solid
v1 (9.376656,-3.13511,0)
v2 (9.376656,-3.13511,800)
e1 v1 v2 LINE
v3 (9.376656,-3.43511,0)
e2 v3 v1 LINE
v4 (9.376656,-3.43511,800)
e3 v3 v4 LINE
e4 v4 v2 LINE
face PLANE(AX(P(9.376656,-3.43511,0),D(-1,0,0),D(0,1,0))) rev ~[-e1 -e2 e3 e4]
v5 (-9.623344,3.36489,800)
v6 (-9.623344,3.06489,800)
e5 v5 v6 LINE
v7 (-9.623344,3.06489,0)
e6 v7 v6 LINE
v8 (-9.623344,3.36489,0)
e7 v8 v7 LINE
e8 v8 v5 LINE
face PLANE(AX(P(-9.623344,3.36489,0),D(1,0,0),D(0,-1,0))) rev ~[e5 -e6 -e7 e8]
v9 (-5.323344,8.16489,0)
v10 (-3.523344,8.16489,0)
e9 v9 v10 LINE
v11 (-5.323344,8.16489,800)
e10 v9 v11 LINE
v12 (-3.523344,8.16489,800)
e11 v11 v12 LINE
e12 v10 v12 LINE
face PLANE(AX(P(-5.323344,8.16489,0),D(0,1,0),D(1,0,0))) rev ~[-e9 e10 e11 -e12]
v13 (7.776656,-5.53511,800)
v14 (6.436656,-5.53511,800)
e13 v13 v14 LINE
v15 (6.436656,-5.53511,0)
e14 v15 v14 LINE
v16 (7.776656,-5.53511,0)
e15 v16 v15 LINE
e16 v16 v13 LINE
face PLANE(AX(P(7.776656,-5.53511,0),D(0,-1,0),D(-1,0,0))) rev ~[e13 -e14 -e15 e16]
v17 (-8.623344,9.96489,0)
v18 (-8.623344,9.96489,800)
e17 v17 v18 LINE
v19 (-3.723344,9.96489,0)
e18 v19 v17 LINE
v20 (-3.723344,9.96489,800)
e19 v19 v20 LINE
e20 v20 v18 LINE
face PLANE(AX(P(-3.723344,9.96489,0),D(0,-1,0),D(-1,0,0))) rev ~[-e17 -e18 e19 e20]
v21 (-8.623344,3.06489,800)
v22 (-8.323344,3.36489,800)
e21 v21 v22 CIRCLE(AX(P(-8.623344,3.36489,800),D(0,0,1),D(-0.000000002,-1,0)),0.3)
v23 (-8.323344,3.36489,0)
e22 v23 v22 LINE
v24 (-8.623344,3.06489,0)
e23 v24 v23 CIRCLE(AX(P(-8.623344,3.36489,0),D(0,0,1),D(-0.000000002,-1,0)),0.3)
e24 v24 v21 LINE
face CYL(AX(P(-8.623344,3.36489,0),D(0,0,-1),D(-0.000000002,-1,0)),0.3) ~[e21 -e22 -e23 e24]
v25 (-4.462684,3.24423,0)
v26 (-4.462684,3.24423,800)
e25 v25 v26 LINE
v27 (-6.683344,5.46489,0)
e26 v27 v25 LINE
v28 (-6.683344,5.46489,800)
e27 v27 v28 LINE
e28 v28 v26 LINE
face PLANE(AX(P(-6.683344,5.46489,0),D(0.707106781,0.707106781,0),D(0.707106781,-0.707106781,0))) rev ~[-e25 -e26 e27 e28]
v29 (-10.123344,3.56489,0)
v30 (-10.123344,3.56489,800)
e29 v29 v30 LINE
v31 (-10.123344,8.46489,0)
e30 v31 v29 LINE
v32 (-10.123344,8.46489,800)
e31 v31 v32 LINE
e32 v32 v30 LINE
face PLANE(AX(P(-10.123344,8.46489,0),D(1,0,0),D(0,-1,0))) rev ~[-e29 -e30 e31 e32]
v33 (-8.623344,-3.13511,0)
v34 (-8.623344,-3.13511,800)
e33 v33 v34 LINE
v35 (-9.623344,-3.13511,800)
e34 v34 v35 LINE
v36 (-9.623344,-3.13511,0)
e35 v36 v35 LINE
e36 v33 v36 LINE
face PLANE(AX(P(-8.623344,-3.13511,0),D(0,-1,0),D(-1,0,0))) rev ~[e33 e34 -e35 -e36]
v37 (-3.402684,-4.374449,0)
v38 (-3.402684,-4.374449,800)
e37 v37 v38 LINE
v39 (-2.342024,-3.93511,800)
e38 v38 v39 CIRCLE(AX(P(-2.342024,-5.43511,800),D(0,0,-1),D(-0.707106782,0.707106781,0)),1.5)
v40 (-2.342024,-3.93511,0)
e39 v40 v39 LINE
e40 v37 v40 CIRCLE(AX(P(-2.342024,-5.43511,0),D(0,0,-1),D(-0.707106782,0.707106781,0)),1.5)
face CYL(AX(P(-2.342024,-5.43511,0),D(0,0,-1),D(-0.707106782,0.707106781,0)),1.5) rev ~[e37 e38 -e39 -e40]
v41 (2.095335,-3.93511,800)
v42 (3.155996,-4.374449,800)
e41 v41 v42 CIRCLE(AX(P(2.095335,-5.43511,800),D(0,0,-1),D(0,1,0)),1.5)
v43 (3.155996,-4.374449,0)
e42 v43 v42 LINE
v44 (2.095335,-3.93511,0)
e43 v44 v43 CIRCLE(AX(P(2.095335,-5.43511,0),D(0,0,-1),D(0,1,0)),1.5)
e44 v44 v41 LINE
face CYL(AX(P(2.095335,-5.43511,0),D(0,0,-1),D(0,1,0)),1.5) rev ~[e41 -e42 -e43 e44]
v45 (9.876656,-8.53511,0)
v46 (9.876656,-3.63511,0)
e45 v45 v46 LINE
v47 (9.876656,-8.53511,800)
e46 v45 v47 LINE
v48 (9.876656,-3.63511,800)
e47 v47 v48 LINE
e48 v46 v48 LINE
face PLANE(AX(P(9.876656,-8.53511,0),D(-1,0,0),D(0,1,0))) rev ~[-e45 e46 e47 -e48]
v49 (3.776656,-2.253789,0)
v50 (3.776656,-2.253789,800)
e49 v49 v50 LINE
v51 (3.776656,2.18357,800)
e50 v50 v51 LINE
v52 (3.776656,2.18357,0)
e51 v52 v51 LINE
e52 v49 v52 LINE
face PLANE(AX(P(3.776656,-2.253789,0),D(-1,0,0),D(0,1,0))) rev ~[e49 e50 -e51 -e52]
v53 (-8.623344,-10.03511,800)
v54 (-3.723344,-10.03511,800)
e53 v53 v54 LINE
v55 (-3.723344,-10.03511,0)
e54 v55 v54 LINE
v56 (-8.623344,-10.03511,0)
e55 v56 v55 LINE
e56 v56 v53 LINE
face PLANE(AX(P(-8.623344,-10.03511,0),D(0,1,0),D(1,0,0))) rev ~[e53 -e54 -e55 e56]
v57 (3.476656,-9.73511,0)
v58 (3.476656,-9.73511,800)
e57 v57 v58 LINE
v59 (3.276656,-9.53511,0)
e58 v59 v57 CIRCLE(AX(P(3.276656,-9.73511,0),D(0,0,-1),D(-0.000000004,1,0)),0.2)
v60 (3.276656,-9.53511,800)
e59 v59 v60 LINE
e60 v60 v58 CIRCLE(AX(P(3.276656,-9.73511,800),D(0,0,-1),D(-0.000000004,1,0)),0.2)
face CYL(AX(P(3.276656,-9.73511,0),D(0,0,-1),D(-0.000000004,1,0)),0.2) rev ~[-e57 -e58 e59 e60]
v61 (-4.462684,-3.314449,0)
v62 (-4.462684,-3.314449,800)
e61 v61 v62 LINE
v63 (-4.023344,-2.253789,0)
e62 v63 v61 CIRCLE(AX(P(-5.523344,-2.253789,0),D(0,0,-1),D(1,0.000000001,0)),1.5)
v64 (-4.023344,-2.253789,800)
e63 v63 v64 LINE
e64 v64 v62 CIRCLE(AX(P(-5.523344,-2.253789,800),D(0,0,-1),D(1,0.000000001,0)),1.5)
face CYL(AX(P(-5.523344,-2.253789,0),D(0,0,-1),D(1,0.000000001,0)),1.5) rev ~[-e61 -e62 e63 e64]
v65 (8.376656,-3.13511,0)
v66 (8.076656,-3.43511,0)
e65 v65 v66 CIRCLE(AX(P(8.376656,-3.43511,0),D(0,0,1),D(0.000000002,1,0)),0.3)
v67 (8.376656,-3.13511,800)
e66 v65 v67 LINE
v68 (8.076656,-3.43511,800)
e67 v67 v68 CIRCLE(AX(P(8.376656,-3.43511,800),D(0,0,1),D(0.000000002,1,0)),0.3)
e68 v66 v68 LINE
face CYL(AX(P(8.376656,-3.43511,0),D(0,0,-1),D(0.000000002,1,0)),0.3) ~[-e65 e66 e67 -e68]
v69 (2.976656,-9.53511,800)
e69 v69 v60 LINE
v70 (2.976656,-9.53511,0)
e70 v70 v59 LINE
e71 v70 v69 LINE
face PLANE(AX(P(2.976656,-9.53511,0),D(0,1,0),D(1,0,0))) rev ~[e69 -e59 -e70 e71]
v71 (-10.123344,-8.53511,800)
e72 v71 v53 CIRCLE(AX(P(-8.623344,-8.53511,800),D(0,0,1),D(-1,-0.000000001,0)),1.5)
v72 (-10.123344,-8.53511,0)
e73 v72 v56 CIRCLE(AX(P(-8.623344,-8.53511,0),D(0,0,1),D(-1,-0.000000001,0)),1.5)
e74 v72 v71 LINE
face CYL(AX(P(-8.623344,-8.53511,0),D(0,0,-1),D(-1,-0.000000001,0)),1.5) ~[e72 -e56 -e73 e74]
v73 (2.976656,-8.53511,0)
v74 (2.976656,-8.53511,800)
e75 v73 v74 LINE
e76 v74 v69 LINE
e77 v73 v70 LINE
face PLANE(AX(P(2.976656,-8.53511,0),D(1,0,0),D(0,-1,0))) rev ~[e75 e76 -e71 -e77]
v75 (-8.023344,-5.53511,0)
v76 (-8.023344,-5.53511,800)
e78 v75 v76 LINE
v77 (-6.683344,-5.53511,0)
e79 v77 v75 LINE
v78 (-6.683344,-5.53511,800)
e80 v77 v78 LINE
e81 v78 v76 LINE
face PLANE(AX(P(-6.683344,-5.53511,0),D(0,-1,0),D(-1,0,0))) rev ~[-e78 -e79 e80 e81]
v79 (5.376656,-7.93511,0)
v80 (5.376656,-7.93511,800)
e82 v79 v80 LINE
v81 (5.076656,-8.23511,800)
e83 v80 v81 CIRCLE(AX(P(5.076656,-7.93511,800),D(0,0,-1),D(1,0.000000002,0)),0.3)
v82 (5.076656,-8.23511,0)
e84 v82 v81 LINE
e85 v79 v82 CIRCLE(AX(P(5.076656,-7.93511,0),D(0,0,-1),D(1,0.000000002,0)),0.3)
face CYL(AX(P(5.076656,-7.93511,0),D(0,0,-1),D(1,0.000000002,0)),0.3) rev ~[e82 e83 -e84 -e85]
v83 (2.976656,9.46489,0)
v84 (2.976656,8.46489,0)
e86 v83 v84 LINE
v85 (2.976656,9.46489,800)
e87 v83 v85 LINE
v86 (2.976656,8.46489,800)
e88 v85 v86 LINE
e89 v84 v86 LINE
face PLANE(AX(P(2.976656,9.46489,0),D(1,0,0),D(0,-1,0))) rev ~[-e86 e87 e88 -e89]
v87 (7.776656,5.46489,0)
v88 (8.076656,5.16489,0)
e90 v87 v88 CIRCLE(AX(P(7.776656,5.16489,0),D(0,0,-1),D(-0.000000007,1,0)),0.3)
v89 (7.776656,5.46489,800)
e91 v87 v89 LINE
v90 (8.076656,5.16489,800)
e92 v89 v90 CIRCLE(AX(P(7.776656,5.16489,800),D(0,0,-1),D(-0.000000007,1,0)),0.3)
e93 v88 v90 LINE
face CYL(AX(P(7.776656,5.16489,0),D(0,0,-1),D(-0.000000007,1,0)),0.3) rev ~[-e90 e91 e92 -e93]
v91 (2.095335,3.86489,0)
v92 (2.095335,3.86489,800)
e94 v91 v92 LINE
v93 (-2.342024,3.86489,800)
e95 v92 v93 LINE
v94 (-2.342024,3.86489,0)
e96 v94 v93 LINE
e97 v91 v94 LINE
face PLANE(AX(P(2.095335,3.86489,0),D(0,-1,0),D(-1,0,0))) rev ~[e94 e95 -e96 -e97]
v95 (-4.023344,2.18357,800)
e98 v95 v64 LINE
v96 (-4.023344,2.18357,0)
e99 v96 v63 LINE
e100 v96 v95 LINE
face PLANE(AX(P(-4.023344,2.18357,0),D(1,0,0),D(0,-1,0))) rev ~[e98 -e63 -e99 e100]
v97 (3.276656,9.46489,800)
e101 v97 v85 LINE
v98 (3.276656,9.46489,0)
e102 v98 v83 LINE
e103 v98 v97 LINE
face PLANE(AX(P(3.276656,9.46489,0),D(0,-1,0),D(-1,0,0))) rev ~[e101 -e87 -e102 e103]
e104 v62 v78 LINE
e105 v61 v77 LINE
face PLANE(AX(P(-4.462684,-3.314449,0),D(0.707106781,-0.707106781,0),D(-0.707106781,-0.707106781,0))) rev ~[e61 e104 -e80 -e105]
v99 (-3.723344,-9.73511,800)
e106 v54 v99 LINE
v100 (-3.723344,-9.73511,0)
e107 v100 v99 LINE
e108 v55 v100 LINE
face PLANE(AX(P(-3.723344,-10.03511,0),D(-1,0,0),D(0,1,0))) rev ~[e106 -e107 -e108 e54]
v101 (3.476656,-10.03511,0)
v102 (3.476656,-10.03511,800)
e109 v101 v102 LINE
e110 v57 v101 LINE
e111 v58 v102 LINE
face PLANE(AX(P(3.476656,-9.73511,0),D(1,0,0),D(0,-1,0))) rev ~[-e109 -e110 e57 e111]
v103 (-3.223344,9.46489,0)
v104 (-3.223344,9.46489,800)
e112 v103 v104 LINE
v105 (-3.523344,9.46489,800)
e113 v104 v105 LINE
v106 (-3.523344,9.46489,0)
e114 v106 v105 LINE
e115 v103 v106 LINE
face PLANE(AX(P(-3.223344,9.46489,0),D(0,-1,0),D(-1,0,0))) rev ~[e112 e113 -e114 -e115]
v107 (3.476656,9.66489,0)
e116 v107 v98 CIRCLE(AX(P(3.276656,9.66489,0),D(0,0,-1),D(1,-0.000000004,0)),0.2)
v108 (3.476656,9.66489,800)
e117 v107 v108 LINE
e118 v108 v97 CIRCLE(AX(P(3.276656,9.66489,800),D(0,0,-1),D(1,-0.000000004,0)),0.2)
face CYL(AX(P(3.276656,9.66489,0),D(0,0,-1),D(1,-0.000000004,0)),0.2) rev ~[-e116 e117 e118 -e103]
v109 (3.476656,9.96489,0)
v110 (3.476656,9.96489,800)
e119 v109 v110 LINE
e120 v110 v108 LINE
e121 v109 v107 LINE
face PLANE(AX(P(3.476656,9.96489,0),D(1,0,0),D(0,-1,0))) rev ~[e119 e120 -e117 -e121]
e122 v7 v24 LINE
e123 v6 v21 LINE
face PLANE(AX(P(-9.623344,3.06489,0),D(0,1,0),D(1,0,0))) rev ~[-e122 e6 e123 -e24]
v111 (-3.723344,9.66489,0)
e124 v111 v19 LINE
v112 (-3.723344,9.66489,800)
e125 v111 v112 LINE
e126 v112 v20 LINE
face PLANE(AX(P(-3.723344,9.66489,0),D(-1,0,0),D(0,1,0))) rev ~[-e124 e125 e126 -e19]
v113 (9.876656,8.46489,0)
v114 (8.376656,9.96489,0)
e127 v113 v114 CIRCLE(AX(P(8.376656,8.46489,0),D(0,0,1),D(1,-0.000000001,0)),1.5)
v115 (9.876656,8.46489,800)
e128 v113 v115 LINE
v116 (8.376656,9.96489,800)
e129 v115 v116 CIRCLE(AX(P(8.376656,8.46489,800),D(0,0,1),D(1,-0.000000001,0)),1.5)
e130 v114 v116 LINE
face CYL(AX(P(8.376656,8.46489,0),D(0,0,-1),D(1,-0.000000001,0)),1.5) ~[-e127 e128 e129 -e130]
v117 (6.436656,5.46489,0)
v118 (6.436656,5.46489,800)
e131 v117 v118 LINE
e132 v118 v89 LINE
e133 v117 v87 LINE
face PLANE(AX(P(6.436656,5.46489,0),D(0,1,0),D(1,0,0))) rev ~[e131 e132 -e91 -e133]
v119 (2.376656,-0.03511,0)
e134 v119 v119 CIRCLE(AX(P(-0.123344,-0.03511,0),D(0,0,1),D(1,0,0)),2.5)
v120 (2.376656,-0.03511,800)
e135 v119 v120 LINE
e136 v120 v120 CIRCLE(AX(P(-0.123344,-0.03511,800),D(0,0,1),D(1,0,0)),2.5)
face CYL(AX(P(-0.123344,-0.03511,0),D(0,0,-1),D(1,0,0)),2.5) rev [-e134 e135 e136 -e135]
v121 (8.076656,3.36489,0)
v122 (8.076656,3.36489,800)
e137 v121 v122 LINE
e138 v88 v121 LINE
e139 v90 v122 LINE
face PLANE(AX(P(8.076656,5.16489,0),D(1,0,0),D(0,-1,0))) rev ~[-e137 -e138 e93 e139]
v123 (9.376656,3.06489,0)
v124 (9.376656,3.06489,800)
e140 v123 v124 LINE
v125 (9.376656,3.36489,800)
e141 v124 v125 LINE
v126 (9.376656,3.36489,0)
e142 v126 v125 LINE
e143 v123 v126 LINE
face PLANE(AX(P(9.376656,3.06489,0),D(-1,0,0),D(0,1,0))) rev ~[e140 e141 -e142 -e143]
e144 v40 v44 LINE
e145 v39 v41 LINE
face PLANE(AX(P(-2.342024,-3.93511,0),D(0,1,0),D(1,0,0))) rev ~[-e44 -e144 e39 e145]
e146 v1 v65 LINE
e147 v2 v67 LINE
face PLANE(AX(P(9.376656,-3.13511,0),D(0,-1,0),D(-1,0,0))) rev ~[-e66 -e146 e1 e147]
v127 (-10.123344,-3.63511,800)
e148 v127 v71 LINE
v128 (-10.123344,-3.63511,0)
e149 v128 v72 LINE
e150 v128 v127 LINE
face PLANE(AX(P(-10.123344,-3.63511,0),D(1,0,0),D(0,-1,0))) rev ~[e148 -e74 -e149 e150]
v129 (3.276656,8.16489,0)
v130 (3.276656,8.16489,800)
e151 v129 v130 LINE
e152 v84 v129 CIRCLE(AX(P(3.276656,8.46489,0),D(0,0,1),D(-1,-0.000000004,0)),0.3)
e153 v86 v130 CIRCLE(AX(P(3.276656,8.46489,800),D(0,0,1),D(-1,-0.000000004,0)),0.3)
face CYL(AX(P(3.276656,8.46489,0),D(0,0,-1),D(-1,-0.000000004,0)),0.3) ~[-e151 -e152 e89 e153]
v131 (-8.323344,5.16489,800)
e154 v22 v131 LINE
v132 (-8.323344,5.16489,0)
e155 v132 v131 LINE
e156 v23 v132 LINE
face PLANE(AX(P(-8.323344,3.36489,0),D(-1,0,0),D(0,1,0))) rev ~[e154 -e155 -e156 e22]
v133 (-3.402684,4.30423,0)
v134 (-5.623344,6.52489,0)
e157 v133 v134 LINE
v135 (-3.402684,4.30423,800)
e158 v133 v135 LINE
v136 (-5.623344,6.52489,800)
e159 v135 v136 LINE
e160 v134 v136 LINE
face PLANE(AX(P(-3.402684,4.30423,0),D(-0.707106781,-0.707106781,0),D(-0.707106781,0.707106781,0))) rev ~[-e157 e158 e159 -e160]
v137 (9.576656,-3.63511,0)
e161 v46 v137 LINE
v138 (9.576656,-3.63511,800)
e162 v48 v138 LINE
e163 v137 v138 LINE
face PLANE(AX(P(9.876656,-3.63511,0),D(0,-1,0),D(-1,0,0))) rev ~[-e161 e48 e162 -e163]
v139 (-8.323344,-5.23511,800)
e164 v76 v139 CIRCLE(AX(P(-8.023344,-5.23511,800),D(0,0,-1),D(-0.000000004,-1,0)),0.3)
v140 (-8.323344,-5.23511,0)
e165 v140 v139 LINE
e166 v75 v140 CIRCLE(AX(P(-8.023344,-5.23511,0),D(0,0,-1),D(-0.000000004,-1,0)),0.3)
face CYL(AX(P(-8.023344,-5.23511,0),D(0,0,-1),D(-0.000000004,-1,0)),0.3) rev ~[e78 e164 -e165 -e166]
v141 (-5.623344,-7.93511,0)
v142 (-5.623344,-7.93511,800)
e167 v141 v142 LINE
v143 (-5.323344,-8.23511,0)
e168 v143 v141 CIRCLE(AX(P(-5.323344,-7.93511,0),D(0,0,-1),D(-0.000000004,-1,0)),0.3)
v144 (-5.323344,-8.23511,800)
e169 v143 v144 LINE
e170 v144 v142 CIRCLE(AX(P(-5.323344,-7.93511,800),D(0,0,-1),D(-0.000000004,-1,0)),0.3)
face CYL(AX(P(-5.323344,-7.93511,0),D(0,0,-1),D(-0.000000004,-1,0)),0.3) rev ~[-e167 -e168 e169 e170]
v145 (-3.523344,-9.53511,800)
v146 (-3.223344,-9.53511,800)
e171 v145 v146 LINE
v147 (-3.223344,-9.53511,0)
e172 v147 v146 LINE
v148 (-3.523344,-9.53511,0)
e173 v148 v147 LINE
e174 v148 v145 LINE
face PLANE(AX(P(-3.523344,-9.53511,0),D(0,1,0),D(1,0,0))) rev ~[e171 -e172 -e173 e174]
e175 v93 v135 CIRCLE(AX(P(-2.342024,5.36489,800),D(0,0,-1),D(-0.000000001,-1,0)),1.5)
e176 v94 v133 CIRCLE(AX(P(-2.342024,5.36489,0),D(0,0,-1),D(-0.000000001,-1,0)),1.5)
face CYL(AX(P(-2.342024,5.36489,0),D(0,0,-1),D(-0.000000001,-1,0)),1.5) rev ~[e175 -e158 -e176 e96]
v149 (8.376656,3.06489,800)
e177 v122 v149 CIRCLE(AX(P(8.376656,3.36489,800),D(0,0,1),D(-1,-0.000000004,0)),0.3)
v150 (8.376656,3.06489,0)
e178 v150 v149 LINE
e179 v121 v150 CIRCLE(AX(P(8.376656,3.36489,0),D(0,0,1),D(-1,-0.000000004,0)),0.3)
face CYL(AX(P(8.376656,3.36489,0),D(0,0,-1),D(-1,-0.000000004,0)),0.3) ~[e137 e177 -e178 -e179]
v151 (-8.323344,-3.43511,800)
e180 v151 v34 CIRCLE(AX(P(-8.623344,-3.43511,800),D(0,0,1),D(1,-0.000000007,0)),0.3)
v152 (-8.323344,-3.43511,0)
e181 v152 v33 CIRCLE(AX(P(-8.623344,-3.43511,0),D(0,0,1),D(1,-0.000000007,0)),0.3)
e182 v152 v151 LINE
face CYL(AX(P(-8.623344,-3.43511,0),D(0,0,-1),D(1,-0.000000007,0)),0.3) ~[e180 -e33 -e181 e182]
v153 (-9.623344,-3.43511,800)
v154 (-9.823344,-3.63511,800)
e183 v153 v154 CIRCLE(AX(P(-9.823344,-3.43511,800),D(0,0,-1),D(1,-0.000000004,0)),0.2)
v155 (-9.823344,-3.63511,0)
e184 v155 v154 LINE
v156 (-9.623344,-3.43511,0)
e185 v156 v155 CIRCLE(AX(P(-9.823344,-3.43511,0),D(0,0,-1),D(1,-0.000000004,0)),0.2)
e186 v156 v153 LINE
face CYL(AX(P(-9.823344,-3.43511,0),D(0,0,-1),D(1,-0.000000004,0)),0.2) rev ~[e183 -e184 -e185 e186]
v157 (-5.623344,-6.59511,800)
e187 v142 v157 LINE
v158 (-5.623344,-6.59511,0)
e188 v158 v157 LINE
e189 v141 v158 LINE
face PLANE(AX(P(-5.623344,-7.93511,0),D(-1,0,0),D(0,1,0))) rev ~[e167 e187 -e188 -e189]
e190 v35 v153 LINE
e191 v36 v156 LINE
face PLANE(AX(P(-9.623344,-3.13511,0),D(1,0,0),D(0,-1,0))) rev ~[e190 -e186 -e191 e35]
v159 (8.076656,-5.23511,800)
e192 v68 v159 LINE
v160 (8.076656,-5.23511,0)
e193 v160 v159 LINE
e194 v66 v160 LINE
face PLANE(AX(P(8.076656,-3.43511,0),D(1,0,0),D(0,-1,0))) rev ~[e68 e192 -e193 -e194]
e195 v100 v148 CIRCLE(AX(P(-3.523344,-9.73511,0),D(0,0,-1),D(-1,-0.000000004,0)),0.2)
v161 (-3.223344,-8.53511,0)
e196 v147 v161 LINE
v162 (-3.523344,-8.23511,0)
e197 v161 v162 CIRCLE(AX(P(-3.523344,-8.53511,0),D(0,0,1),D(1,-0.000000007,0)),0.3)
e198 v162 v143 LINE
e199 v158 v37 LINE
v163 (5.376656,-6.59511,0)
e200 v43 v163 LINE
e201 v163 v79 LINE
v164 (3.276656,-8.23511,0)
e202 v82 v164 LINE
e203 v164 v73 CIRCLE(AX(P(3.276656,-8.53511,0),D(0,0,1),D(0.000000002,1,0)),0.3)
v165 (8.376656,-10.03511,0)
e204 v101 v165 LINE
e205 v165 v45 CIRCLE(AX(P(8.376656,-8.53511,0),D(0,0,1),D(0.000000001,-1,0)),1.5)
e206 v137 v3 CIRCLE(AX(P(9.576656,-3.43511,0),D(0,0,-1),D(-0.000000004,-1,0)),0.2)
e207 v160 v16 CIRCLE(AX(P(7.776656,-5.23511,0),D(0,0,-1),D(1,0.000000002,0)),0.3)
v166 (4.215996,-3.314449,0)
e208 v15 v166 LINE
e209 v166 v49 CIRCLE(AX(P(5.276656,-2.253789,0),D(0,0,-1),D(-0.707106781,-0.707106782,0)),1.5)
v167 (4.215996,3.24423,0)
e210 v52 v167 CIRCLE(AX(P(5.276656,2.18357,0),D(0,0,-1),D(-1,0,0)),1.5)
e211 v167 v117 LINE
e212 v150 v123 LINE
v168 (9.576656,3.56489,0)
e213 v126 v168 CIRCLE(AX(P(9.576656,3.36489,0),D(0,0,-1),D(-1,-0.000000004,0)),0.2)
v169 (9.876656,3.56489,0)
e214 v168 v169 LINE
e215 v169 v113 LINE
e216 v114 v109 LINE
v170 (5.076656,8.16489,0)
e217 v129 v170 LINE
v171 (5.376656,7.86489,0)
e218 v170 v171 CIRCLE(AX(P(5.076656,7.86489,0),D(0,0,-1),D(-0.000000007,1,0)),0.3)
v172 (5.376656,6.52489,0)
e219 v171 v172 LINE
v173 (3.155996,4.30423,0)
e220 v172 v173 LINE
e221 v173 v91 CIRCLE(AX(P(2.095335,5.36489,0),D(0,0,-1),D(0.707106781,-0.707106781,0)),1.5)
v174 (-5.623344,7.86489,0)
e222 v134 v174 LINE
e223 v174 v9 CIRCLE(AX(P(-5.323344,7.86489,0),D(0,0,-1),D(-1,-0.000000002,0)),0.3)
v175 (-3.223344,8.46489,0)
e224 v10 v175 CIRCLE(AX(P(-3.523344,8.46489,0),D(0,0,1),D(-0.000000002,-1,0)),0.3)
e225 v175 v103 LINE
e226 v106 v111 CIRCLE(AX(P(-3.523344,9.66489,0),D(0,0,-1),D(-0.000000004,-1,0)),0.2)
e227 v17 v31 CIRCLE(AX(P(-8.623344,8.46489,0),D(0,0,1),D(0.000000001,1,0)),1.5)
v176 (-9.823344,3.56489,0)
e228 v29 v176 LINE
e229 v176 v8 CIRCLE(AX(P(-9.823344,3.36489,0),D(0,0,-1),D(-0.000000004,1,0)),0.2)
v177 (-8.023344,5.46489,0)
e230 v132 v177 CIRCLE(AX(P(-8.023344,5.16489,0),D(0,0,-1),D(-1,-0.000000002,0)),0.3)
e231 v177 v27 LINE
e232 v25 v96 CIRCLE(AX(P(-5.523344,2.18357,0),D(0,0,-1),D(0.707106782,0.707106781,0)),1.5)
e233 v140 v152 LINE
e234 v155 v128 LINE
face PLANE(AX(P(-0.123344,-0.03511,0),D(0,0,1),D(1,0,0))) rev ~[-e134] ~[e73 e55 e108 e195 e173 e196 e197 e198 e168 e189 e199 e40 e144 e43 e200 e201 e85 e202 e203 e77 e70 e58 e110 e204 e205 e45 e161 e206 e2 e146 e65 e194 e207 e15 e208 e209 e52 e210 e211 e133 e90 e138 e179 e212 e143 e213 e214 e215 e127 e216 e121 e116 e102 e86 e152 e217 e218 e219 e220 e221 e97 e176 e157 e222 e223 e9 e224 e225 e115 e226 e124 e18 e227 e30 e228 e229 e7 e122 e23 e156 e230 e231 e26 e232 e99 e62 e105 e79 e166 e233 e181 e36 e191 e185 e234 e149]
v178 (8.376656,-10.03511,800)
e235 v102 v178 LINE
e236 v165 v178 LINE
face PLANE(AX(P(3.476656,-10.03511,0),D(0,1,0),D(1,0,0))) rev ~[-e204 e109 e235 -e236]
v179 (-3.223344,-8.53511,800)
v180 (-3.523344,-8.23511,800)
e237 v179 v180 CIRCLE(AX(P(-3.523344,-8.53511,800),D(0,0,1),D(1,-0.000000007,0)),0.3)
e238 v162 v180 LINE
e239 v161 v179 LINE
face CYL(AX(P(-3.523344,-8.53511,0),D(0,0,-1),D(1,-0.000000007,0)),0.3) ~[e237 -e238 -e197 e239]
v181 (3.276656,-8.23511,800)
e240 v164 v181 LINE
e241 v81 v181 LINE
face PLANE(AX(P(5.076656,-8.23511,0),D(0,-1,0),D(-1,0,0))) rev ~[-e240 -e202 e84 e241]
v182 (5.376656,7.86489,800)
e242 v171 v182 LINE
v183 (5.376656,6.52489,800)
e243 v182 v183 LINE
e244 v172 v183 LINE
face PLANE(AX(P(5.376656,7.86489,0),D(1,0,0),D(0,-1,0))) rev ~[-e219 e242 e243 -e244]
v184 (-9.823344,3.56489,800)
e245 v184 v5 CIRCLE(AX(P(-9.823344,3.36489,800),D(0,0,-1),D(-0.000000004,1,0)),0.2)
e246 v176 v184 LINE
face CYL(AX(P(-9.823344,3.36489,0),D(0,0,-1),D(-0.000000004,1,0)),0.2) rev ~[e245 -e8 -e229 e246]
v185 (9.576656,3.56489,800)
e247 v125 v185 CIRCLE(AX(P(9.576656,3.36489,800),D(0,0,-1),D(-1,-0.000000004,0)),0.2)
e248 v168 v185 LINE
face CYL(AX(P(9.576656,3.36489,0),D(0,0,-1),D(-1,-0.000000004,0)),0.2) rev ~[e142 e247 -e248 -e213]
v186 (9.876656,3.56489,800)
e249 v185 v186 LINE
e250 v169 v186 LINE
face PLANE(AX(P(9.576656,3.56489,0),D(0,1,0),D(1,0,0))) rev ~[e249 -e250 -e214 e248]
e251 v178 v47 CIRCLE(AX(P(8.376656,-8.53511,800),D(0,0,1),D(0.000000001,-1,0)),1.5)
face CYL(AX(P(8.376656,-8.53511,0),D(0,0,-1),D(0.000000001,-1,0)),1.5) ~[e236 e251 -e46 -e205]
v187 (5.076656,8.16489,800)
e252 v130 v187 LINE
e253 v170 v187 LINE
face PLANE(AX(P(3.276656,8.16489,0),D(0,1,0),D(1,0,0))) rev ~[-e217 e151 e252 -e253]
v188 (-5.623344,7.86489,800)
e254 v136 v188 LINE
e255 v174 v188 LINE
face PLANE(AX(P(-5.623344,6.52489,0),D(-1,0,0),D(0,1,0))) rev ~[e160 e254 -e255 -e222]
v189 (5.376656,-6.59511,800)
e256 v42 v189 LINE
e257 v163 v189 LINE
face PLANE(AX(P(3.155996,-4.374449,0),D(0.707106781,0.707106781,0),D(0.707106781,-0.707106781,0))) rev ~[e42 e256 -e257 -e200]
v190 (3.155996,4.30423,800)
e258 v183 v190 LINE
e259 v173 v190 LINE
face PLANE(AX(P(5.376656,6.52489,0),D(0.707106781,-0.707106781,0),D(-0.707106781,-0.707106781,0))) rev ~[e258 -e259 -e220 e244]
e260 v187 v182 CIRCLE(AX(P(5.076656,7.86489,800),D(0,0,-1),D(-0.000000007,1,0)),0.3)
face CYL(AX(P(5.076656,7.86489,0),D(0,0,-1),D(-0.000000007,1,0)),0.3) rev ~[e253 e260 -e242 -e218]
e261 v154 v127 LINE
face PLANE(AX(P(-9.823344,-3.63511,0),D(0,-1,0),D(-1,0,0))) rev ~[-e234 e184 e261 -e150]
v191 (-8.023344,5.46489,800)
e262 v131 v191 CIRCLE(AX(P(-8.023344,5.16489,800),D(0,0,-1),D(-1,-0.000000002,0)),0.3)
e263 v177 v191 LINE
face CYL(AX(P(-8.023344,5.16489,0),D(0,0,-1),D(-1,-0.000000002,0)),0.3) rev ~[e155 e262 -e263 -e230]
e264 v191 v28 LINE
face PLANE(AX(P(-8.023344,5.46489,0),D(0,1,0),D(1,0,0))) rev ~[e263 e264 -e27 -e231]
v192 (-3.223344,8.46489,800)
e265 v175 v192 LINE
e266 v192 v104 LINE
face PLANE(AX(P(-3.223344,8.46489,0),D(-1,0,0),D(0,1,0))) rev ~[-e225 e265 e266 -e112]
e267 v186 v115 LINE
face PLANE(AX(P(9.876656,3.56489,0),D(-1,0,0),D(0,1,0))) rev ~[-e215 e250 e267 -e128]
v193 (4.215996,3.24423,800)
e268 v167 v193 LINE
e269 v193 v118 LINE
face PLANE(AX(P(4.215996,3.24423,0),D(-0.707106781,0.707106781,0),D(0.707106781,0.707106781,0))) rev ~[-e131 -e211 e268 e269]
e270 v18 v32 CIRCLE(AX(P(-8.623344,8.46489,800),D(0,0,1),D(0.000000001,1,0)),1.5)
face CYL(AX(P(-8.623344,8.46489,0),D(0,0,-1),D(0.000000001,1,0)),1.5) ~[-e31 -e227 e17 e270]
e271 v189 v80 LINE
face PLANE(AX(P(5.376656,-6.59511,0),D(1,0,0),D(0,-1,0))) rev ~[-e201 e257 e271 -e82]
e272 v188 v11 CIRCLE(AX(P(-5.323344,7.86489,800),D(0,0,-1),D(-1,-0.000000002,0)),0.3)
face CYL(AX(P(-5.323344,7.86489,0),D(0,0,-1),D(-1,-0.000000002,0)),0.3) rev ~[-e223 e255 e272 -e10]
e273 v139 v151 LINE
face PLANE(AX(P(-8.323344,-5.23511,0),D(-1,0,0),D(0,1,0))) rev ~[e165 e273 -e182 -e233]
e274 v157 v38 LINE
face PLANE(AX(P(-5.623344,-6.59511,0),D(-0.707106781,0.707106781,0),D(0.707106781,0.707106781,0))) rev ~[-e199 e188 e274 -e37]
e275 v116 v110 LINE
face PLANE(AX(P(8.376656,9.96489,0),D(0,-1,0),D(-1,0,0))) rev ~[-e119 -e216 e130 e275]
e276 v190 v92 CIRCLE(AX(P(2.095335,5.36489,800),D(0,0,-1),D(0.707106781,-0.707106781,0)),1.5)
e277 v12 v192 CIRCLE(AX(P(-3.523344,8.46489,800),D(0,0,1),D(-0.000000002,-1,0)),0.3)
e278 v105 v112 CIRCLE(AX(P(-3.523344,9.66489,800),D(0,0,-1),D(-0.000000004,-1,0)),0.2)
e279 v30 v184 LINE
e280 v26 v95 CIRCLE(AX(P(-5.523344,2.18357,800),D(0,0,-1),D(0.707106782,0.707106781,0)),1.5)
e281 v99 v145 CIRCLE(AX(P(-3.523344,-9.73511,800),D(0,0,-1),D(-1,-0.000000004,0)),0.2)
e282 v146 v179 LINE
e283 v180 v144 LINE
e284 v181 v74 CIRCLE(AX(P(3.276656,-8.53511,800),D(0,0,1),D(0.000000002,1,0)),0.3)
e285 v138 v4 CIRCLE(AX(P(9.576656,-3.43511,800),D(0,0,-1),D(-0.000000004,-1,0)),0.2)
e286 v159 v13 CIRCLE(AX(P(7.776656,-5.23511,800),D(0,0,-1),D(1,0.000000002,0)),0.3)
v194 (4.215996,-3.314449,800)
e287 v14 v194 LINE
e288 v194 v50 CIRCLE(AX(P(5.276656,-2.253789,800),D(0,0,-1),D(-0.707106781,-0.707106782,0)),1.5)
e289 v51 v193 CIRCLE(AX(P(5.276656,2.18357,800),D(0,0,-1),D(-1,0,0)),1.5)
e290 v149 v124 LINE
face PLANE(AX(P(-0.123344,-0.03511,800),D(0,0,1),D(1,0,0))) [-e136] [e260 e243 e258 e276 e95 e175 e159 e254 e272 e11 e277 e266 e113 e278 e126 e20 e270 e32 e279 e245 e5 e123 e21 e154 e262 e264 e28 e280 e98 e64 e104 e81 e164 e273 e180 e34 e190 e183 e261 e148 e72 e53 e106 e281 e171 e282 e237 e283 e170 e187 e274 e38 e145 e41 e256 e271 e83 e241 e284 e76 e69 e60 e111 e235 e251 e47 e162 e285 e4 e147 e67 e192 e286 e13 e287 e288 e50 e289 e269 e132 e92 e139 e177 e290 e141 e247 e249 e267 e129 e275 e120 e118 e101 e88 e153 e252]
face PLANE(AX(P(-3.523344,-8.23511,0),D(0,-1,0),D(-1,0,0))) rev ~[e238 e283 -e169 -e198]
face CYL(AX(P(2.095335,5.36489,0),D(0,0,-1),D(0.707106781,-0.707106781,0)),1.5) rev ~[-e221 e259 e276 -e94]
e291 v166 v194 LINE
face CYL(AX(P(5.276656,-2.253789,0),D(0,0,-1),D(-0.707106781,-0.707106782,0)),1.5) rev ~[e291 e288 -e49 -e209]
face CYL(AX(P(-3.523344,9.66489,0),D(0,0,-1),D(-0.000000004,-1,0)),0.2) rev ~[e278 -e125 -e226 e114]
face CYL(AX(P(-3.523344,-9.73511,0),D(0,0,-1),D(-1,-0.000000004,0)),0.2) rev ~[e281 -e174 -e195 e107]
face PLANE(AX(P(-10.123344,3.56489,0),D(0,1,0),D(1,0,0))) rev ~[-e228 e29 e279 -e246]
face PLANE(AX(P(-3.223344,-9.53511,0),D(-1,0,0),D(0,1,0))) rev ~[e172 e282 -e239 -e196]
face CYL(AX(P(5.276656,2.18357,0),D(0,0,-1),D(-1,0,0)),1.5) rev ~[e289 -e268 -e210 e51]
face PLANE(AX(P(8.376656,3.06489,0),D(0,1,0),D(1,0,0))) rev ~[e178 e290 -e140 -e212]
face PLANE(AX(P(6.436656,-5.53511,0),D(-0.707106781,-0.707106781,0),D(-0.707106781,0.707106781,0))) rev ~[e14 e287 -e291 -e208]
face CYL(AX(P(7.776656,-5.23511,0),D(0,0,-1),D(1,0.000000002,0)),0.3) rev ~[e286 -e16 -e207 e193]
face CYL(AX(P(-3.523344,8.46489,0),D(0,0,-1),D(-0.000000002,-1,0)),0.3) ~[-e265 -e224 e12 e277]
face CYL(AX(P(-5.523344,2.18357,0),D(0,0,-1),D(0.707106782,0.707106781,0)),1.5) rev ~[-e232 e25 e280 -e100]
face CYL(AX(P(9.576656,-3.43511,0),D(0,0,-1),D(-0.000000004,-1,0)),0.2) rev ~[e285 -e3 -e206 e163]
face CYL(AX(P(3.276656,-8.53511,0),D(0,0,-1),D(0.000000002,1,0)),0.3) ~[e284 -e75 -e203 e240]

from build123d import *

# Parameters (mm, degrees)
SKETCH_1_R      = 2.5
EXTRUDE_1_DEPTH = 800


with BuildPart() as part:
    # 草图1 → 凸台-拉伸1 (new body)
    with BuildSketch(Plane.XY):
        with BuildLine():
            Line((4.215995631, 3.244230202), (6.436655803, 5.464890373))
            Line((6.436655803, 5.464890373), (7.776655803, 5.464890373))
            ThreePointArc((7.776655803, 5.464890373), (7.988787838, 5.377022408), (8.076655803, 5.164890373))
            Line((8.076655803, 5.164890373), (8.076655803, 3.364890373))
            ThreePointArc((8.076655803, 3.364890373), (8.164523769, 3.152758339), (8.376655803, 3.064890373))
            Line((8.376655803, 3.064890373), (9.376655803, 3.064890373))
            Line((9.376655803, 3.064890373), (9.376655803, 3.364890373))
            ThreePointArc((9.376655803, 3.364890373), (9.435234447, 3.50631173), (9.576655803, 3.564890373))
            Line((9.576655803, 3.564890373), (9.876655803, 3.564890373))
            Line((9.876655803, 3.564890373), (9.876655803, 8.464890373))
            ThreePointArc((9.876655803, 8.464890373), (9.437315975, 9.525550545), (8.376655803, 9.964890373))
            Line((8.376655803, 9.964890373), (3.476655803, 9.964890373))
            Line((3.476655803, 9.964890373), (3.476655803, 9.664890373))
            ThreePointArc((3.476655803, 9.664890373), (3.418077159, 9.523469017), (3.276655803, 9.464890373))
            Line((3.276655803, 9.464890373), (2.976655803, 9.464890373))
            Line((2.976655803, 9.464890373), (2.976655803, 8.464890373))
            ThreePointArc((2.976655803, 8.464890373), (3.064523769, 8.252758339), (3.276655803, 8.164890373))
            Line((3.276655803, 8.164890373), (5.076655803, 8.164890373))
            ThreePointArc((5.076655803, 8.164890373), (5.288787838, 8.077022408), (5.376655803, 7.864890373))
            Line((5.376655803, 7.864890373), (5.376655803, 6.524890373))
            Line((5.376655803, 6.524890373), (3.155995631, 4.304230202))
            ThreePointArc((3.155995631, 4.304230202), (2.669360608, 3.979071075), (2.09533546, 3.864890373))
            Line((2.09533546, 3.864890373), (-2.342023853, 3.864890373))
            ThreePointArc((-2.342023853, 3.864890373), (-2.916049002, 3.979071075), (-3.402684025, 4.304230202))
            Line((-3.402684025, 4.304230202), (-5.623344197, 6.524890373))
            Line((-5.623344197, 6.524890373), (-5.623344197, 7.864890373))
            ThreePointArc((-5.623344197, 7.864890373), (-5.535476231, 8.077022408), (-5.323344197, 8.164890373))
            Line((-5.323344197, 8.164890373), (-3.523344197, 8.164890373))
            ThreePointArc((-3.523344197, 8.164890373), (-3.311212162, 8.252758339), (-3.223344197, 8.464890373))
            Line((-3.223344197, 8.464890373), (-3.223344197, 9.464890373))
            Line((-3.223344197, 9.464890373), (-3.523344197, 9.464890373))
            ThreePointArc((-3.523344197, 9.464890373), (-3.664765553, 9.523469017), (-3.723344197, 9.664890373))
            Line((-3.723344197, 9.664890373), (-3.723344197, 9.964890373))
            Line((-3.723344197, 9.964890373), (-8.623344197, 9.964890373))
            ThreePointArc((-8.623344197, 9.964890373), (-9.684004369, 9.525550545), (-10.123344197, 8.464890373))
            Line((-10.123344197, 8.464890373), (-10.123344197, 3.564890373))
            Line((-10.123344197, 3.564890373), (-9.823344197, 3.564890373))
            ThreePointArc((-9.823344197, 3.564890373), (-9.681922841, 3.50631173), (-9.623344197, 3.364890373))
            Line((-9.623344197, 3.364890373), (-9.623344197, 3.064890373))
            Line((-9.623344197, 3.064890373), (-8.623344197, 3.064890373))
            ThreePointArc((-8.623344197, 3.064890373), (-8.411212162, 3.152758339), (-8.323344197, 3.364890373))
            Line((-8.323344197, 3.364890373), (-8.323344197, 5.164890373))
            ThreePointArc((-8.323344197, 5.164890373), (-8.235476231, 5.377022408), (-8.023344197, 5.464890373))
            Line((-8.023344197, 5.464890373), (-6.683344197, 5.464890373))
            Line((-6.683344197, 5.464890373), (-4.462684025, 3.244230202))
            ThreePointArc((-4.462684025, 3.244230202), (-4.137524898, 2.757595178), (-4.023344197, 2.18357003))
            Line((-4.023344197, 2.18357003), (-4.023344197, -2.253789283))
            ThreePointArc((-4.023344197, -2.253789283), (-4.137524898, -2.827814432), (-4.462684025, -3.314449455))
            Line((-4.462684025, -3.314449455), (-6.683344197, -5.535109627))
            Line((-6.683344197, -5.535109627), (-8.023344197, -5.535109627))
            ThreePointArc((-8.023344197, -5.535109627), (-8.235476231, -5.447241661), (-8.323344197, -5.235109627))
            Line((-8.323344197, -5.235109627), (-8.323344197, -3.435109627))
            ThreePointArc((-8.323344197, -3.435109627), (-8.411212162, -3.222977592), (-8.623344197, -3.135109627))
            Line((-8.623344197, -3.135109627), (-9.623344197, -3.135109627))
            Line((-9.623344197, -3.135109627), (-9.623344197, -3.435109627))
            ThreePointArc((-9.623344197, -3.435109627), (-9.681922841, -3.576530983), (-9.823344197, -3.635109627))
            Line((-9.823344197, -3.635109627), (-10.123344197, -3.635109627))
            Line((-10.123344197, -3.635109627), (-10.123344197, -8.535109627))
            ThreePointArc((-10.123344197, -8.535109627), (-9.684004369, -9.595769798), (-8.623344197, -10.035109627))
            Line((-8.623344197, -10.035109627), (-3.723344197, -10.035109627))
            Line((-3.723344197, -10.035109627), (-3.723344197, -9.735109627))
            ThreePointArc((-3.723344197, -9.735109627), (-3.664765553, -9.59368827), (-3.523344197, -9.535109627))
            Line((-3.523344197, -9.535109627), (-3.223344197, -9.535109627))
            Line((-3.223344197, -9.535109627), (-3.223344197, -8.535109627))
            ThreePointArc((-3.223344197, -8.535109627), (-3.311212162, -8.322977592), (-3.523344197, -8.235109627))
            Line((-3.523344197, -8.235109627), (-5.323344197, -8.235109627))
            ThreePointArc((-5.323344197, -8.235109627), (-5.535476231, -8.147241661), (-5.623344197, -7.935109627))
            Line((-5.623344197, -7.935109627), (-5.623344197, -6.595109627))
            Line((-5.623344197, -6.595109627), (-3.402684025, -4.374449455))
            ThreePointArc((-3.402684025, -4.374449455), (-2.916049002, -4.049290328), (-2.342023853, -3.935109627))
            Line((-2.342023853, -3.935109627), (2.09533546, -3.935109627))
            ThreePointArc((2.09533546, -3.935109627), (2.669360608, -4.049290328), (3.155995631, -4.374449455))
            Line((3.155995631, -4.374449455), (5.376655803, -6.595109627))
            Line((5.376655803, -6.595109627), (5.376655803, -7.935109627))
            ThreePointArc((5.376655803, -7.935109627), (5.288787838, -8.147241661), (5.076655803, -8.235109627))
            Line((5.076655803, -8.235109627), (3.276655803, -8.235109627))
            ThreePointArc((3.276655803, -8.235109627), (3.064523769, -8.322977592), (2.976655803, -8.535109627))
            Line((2.976655803, -8.535109627), (2.976655803, -9.535109627))
            Line((2.976655803, -9.535109627), (3.276655803, -9.535109627))
            ThreePointArc((3.276655803, -9.535109627), (3.418077159, -9.59368827), (3.476655803, -9.735109627))
            Line((3.476655803, -9.735109627), (3.476655803, -10.035109627))
            Line((3.476655803, -10.035109627), (8.376655803, -10.035109627))
            ThreePointArc((8.376655803, -10.035109627), (9.437315975, -9.595769798), (9.876655803, -8.535109627))
            Line((9.876655803, -8.535109627), (9.876655803, -3.635109627))
            Line((9.876655803, -3.635109627), (9.576655803, -3.635109627))
            ThreePointArc((9.576655803, -3.635109627), (9.435234447, -3.576530983), (9.376655803, -3.435109627))
            Line((9.376655803, -3.435109627), (9.376655803, -3.135109627))
            Line((9.376655803, -3.135109627), (8.376655803, -3.135109627))
            ThreePointArc((8.376655803, -3.135109627), (8.164523769, -3.222977592), (8.076655803, -3.435109627))
            Line((8.076655803, -3.435109627), (8.076655803, -5.235109627))
            ThreePointArc((8.076655803, -5.235109627), (7.988787838, -5.447241661), (7.776655803, -5.535109627))
            Line((7.776655803, -5.535109627), (6.436655803, -5.535109627))
            Line((6.436655803, -5.535109627), (4.215995631, -3.314449455))
            ThreePointArc((4.215995631, -3.314449455), (3.890836504, -2.827814432), (3.776655803, -2.253789283))
            Line((3.776655803, -2.253789283), (3.776655803, 2.18357003))
            ThreePointArc((3.776655803, 2.18357003), (3.890836504, 2.757595178), (4.215995631, 3.244230202))
        make_face()
        with Locations((-0.123344197, -0.035109627)):
            Circle(SKETCH_1_R, mode=Mode.SUBTRACT)
    extrude(amount=EXTRUDE_1_DEPTH)


solid = part.part
